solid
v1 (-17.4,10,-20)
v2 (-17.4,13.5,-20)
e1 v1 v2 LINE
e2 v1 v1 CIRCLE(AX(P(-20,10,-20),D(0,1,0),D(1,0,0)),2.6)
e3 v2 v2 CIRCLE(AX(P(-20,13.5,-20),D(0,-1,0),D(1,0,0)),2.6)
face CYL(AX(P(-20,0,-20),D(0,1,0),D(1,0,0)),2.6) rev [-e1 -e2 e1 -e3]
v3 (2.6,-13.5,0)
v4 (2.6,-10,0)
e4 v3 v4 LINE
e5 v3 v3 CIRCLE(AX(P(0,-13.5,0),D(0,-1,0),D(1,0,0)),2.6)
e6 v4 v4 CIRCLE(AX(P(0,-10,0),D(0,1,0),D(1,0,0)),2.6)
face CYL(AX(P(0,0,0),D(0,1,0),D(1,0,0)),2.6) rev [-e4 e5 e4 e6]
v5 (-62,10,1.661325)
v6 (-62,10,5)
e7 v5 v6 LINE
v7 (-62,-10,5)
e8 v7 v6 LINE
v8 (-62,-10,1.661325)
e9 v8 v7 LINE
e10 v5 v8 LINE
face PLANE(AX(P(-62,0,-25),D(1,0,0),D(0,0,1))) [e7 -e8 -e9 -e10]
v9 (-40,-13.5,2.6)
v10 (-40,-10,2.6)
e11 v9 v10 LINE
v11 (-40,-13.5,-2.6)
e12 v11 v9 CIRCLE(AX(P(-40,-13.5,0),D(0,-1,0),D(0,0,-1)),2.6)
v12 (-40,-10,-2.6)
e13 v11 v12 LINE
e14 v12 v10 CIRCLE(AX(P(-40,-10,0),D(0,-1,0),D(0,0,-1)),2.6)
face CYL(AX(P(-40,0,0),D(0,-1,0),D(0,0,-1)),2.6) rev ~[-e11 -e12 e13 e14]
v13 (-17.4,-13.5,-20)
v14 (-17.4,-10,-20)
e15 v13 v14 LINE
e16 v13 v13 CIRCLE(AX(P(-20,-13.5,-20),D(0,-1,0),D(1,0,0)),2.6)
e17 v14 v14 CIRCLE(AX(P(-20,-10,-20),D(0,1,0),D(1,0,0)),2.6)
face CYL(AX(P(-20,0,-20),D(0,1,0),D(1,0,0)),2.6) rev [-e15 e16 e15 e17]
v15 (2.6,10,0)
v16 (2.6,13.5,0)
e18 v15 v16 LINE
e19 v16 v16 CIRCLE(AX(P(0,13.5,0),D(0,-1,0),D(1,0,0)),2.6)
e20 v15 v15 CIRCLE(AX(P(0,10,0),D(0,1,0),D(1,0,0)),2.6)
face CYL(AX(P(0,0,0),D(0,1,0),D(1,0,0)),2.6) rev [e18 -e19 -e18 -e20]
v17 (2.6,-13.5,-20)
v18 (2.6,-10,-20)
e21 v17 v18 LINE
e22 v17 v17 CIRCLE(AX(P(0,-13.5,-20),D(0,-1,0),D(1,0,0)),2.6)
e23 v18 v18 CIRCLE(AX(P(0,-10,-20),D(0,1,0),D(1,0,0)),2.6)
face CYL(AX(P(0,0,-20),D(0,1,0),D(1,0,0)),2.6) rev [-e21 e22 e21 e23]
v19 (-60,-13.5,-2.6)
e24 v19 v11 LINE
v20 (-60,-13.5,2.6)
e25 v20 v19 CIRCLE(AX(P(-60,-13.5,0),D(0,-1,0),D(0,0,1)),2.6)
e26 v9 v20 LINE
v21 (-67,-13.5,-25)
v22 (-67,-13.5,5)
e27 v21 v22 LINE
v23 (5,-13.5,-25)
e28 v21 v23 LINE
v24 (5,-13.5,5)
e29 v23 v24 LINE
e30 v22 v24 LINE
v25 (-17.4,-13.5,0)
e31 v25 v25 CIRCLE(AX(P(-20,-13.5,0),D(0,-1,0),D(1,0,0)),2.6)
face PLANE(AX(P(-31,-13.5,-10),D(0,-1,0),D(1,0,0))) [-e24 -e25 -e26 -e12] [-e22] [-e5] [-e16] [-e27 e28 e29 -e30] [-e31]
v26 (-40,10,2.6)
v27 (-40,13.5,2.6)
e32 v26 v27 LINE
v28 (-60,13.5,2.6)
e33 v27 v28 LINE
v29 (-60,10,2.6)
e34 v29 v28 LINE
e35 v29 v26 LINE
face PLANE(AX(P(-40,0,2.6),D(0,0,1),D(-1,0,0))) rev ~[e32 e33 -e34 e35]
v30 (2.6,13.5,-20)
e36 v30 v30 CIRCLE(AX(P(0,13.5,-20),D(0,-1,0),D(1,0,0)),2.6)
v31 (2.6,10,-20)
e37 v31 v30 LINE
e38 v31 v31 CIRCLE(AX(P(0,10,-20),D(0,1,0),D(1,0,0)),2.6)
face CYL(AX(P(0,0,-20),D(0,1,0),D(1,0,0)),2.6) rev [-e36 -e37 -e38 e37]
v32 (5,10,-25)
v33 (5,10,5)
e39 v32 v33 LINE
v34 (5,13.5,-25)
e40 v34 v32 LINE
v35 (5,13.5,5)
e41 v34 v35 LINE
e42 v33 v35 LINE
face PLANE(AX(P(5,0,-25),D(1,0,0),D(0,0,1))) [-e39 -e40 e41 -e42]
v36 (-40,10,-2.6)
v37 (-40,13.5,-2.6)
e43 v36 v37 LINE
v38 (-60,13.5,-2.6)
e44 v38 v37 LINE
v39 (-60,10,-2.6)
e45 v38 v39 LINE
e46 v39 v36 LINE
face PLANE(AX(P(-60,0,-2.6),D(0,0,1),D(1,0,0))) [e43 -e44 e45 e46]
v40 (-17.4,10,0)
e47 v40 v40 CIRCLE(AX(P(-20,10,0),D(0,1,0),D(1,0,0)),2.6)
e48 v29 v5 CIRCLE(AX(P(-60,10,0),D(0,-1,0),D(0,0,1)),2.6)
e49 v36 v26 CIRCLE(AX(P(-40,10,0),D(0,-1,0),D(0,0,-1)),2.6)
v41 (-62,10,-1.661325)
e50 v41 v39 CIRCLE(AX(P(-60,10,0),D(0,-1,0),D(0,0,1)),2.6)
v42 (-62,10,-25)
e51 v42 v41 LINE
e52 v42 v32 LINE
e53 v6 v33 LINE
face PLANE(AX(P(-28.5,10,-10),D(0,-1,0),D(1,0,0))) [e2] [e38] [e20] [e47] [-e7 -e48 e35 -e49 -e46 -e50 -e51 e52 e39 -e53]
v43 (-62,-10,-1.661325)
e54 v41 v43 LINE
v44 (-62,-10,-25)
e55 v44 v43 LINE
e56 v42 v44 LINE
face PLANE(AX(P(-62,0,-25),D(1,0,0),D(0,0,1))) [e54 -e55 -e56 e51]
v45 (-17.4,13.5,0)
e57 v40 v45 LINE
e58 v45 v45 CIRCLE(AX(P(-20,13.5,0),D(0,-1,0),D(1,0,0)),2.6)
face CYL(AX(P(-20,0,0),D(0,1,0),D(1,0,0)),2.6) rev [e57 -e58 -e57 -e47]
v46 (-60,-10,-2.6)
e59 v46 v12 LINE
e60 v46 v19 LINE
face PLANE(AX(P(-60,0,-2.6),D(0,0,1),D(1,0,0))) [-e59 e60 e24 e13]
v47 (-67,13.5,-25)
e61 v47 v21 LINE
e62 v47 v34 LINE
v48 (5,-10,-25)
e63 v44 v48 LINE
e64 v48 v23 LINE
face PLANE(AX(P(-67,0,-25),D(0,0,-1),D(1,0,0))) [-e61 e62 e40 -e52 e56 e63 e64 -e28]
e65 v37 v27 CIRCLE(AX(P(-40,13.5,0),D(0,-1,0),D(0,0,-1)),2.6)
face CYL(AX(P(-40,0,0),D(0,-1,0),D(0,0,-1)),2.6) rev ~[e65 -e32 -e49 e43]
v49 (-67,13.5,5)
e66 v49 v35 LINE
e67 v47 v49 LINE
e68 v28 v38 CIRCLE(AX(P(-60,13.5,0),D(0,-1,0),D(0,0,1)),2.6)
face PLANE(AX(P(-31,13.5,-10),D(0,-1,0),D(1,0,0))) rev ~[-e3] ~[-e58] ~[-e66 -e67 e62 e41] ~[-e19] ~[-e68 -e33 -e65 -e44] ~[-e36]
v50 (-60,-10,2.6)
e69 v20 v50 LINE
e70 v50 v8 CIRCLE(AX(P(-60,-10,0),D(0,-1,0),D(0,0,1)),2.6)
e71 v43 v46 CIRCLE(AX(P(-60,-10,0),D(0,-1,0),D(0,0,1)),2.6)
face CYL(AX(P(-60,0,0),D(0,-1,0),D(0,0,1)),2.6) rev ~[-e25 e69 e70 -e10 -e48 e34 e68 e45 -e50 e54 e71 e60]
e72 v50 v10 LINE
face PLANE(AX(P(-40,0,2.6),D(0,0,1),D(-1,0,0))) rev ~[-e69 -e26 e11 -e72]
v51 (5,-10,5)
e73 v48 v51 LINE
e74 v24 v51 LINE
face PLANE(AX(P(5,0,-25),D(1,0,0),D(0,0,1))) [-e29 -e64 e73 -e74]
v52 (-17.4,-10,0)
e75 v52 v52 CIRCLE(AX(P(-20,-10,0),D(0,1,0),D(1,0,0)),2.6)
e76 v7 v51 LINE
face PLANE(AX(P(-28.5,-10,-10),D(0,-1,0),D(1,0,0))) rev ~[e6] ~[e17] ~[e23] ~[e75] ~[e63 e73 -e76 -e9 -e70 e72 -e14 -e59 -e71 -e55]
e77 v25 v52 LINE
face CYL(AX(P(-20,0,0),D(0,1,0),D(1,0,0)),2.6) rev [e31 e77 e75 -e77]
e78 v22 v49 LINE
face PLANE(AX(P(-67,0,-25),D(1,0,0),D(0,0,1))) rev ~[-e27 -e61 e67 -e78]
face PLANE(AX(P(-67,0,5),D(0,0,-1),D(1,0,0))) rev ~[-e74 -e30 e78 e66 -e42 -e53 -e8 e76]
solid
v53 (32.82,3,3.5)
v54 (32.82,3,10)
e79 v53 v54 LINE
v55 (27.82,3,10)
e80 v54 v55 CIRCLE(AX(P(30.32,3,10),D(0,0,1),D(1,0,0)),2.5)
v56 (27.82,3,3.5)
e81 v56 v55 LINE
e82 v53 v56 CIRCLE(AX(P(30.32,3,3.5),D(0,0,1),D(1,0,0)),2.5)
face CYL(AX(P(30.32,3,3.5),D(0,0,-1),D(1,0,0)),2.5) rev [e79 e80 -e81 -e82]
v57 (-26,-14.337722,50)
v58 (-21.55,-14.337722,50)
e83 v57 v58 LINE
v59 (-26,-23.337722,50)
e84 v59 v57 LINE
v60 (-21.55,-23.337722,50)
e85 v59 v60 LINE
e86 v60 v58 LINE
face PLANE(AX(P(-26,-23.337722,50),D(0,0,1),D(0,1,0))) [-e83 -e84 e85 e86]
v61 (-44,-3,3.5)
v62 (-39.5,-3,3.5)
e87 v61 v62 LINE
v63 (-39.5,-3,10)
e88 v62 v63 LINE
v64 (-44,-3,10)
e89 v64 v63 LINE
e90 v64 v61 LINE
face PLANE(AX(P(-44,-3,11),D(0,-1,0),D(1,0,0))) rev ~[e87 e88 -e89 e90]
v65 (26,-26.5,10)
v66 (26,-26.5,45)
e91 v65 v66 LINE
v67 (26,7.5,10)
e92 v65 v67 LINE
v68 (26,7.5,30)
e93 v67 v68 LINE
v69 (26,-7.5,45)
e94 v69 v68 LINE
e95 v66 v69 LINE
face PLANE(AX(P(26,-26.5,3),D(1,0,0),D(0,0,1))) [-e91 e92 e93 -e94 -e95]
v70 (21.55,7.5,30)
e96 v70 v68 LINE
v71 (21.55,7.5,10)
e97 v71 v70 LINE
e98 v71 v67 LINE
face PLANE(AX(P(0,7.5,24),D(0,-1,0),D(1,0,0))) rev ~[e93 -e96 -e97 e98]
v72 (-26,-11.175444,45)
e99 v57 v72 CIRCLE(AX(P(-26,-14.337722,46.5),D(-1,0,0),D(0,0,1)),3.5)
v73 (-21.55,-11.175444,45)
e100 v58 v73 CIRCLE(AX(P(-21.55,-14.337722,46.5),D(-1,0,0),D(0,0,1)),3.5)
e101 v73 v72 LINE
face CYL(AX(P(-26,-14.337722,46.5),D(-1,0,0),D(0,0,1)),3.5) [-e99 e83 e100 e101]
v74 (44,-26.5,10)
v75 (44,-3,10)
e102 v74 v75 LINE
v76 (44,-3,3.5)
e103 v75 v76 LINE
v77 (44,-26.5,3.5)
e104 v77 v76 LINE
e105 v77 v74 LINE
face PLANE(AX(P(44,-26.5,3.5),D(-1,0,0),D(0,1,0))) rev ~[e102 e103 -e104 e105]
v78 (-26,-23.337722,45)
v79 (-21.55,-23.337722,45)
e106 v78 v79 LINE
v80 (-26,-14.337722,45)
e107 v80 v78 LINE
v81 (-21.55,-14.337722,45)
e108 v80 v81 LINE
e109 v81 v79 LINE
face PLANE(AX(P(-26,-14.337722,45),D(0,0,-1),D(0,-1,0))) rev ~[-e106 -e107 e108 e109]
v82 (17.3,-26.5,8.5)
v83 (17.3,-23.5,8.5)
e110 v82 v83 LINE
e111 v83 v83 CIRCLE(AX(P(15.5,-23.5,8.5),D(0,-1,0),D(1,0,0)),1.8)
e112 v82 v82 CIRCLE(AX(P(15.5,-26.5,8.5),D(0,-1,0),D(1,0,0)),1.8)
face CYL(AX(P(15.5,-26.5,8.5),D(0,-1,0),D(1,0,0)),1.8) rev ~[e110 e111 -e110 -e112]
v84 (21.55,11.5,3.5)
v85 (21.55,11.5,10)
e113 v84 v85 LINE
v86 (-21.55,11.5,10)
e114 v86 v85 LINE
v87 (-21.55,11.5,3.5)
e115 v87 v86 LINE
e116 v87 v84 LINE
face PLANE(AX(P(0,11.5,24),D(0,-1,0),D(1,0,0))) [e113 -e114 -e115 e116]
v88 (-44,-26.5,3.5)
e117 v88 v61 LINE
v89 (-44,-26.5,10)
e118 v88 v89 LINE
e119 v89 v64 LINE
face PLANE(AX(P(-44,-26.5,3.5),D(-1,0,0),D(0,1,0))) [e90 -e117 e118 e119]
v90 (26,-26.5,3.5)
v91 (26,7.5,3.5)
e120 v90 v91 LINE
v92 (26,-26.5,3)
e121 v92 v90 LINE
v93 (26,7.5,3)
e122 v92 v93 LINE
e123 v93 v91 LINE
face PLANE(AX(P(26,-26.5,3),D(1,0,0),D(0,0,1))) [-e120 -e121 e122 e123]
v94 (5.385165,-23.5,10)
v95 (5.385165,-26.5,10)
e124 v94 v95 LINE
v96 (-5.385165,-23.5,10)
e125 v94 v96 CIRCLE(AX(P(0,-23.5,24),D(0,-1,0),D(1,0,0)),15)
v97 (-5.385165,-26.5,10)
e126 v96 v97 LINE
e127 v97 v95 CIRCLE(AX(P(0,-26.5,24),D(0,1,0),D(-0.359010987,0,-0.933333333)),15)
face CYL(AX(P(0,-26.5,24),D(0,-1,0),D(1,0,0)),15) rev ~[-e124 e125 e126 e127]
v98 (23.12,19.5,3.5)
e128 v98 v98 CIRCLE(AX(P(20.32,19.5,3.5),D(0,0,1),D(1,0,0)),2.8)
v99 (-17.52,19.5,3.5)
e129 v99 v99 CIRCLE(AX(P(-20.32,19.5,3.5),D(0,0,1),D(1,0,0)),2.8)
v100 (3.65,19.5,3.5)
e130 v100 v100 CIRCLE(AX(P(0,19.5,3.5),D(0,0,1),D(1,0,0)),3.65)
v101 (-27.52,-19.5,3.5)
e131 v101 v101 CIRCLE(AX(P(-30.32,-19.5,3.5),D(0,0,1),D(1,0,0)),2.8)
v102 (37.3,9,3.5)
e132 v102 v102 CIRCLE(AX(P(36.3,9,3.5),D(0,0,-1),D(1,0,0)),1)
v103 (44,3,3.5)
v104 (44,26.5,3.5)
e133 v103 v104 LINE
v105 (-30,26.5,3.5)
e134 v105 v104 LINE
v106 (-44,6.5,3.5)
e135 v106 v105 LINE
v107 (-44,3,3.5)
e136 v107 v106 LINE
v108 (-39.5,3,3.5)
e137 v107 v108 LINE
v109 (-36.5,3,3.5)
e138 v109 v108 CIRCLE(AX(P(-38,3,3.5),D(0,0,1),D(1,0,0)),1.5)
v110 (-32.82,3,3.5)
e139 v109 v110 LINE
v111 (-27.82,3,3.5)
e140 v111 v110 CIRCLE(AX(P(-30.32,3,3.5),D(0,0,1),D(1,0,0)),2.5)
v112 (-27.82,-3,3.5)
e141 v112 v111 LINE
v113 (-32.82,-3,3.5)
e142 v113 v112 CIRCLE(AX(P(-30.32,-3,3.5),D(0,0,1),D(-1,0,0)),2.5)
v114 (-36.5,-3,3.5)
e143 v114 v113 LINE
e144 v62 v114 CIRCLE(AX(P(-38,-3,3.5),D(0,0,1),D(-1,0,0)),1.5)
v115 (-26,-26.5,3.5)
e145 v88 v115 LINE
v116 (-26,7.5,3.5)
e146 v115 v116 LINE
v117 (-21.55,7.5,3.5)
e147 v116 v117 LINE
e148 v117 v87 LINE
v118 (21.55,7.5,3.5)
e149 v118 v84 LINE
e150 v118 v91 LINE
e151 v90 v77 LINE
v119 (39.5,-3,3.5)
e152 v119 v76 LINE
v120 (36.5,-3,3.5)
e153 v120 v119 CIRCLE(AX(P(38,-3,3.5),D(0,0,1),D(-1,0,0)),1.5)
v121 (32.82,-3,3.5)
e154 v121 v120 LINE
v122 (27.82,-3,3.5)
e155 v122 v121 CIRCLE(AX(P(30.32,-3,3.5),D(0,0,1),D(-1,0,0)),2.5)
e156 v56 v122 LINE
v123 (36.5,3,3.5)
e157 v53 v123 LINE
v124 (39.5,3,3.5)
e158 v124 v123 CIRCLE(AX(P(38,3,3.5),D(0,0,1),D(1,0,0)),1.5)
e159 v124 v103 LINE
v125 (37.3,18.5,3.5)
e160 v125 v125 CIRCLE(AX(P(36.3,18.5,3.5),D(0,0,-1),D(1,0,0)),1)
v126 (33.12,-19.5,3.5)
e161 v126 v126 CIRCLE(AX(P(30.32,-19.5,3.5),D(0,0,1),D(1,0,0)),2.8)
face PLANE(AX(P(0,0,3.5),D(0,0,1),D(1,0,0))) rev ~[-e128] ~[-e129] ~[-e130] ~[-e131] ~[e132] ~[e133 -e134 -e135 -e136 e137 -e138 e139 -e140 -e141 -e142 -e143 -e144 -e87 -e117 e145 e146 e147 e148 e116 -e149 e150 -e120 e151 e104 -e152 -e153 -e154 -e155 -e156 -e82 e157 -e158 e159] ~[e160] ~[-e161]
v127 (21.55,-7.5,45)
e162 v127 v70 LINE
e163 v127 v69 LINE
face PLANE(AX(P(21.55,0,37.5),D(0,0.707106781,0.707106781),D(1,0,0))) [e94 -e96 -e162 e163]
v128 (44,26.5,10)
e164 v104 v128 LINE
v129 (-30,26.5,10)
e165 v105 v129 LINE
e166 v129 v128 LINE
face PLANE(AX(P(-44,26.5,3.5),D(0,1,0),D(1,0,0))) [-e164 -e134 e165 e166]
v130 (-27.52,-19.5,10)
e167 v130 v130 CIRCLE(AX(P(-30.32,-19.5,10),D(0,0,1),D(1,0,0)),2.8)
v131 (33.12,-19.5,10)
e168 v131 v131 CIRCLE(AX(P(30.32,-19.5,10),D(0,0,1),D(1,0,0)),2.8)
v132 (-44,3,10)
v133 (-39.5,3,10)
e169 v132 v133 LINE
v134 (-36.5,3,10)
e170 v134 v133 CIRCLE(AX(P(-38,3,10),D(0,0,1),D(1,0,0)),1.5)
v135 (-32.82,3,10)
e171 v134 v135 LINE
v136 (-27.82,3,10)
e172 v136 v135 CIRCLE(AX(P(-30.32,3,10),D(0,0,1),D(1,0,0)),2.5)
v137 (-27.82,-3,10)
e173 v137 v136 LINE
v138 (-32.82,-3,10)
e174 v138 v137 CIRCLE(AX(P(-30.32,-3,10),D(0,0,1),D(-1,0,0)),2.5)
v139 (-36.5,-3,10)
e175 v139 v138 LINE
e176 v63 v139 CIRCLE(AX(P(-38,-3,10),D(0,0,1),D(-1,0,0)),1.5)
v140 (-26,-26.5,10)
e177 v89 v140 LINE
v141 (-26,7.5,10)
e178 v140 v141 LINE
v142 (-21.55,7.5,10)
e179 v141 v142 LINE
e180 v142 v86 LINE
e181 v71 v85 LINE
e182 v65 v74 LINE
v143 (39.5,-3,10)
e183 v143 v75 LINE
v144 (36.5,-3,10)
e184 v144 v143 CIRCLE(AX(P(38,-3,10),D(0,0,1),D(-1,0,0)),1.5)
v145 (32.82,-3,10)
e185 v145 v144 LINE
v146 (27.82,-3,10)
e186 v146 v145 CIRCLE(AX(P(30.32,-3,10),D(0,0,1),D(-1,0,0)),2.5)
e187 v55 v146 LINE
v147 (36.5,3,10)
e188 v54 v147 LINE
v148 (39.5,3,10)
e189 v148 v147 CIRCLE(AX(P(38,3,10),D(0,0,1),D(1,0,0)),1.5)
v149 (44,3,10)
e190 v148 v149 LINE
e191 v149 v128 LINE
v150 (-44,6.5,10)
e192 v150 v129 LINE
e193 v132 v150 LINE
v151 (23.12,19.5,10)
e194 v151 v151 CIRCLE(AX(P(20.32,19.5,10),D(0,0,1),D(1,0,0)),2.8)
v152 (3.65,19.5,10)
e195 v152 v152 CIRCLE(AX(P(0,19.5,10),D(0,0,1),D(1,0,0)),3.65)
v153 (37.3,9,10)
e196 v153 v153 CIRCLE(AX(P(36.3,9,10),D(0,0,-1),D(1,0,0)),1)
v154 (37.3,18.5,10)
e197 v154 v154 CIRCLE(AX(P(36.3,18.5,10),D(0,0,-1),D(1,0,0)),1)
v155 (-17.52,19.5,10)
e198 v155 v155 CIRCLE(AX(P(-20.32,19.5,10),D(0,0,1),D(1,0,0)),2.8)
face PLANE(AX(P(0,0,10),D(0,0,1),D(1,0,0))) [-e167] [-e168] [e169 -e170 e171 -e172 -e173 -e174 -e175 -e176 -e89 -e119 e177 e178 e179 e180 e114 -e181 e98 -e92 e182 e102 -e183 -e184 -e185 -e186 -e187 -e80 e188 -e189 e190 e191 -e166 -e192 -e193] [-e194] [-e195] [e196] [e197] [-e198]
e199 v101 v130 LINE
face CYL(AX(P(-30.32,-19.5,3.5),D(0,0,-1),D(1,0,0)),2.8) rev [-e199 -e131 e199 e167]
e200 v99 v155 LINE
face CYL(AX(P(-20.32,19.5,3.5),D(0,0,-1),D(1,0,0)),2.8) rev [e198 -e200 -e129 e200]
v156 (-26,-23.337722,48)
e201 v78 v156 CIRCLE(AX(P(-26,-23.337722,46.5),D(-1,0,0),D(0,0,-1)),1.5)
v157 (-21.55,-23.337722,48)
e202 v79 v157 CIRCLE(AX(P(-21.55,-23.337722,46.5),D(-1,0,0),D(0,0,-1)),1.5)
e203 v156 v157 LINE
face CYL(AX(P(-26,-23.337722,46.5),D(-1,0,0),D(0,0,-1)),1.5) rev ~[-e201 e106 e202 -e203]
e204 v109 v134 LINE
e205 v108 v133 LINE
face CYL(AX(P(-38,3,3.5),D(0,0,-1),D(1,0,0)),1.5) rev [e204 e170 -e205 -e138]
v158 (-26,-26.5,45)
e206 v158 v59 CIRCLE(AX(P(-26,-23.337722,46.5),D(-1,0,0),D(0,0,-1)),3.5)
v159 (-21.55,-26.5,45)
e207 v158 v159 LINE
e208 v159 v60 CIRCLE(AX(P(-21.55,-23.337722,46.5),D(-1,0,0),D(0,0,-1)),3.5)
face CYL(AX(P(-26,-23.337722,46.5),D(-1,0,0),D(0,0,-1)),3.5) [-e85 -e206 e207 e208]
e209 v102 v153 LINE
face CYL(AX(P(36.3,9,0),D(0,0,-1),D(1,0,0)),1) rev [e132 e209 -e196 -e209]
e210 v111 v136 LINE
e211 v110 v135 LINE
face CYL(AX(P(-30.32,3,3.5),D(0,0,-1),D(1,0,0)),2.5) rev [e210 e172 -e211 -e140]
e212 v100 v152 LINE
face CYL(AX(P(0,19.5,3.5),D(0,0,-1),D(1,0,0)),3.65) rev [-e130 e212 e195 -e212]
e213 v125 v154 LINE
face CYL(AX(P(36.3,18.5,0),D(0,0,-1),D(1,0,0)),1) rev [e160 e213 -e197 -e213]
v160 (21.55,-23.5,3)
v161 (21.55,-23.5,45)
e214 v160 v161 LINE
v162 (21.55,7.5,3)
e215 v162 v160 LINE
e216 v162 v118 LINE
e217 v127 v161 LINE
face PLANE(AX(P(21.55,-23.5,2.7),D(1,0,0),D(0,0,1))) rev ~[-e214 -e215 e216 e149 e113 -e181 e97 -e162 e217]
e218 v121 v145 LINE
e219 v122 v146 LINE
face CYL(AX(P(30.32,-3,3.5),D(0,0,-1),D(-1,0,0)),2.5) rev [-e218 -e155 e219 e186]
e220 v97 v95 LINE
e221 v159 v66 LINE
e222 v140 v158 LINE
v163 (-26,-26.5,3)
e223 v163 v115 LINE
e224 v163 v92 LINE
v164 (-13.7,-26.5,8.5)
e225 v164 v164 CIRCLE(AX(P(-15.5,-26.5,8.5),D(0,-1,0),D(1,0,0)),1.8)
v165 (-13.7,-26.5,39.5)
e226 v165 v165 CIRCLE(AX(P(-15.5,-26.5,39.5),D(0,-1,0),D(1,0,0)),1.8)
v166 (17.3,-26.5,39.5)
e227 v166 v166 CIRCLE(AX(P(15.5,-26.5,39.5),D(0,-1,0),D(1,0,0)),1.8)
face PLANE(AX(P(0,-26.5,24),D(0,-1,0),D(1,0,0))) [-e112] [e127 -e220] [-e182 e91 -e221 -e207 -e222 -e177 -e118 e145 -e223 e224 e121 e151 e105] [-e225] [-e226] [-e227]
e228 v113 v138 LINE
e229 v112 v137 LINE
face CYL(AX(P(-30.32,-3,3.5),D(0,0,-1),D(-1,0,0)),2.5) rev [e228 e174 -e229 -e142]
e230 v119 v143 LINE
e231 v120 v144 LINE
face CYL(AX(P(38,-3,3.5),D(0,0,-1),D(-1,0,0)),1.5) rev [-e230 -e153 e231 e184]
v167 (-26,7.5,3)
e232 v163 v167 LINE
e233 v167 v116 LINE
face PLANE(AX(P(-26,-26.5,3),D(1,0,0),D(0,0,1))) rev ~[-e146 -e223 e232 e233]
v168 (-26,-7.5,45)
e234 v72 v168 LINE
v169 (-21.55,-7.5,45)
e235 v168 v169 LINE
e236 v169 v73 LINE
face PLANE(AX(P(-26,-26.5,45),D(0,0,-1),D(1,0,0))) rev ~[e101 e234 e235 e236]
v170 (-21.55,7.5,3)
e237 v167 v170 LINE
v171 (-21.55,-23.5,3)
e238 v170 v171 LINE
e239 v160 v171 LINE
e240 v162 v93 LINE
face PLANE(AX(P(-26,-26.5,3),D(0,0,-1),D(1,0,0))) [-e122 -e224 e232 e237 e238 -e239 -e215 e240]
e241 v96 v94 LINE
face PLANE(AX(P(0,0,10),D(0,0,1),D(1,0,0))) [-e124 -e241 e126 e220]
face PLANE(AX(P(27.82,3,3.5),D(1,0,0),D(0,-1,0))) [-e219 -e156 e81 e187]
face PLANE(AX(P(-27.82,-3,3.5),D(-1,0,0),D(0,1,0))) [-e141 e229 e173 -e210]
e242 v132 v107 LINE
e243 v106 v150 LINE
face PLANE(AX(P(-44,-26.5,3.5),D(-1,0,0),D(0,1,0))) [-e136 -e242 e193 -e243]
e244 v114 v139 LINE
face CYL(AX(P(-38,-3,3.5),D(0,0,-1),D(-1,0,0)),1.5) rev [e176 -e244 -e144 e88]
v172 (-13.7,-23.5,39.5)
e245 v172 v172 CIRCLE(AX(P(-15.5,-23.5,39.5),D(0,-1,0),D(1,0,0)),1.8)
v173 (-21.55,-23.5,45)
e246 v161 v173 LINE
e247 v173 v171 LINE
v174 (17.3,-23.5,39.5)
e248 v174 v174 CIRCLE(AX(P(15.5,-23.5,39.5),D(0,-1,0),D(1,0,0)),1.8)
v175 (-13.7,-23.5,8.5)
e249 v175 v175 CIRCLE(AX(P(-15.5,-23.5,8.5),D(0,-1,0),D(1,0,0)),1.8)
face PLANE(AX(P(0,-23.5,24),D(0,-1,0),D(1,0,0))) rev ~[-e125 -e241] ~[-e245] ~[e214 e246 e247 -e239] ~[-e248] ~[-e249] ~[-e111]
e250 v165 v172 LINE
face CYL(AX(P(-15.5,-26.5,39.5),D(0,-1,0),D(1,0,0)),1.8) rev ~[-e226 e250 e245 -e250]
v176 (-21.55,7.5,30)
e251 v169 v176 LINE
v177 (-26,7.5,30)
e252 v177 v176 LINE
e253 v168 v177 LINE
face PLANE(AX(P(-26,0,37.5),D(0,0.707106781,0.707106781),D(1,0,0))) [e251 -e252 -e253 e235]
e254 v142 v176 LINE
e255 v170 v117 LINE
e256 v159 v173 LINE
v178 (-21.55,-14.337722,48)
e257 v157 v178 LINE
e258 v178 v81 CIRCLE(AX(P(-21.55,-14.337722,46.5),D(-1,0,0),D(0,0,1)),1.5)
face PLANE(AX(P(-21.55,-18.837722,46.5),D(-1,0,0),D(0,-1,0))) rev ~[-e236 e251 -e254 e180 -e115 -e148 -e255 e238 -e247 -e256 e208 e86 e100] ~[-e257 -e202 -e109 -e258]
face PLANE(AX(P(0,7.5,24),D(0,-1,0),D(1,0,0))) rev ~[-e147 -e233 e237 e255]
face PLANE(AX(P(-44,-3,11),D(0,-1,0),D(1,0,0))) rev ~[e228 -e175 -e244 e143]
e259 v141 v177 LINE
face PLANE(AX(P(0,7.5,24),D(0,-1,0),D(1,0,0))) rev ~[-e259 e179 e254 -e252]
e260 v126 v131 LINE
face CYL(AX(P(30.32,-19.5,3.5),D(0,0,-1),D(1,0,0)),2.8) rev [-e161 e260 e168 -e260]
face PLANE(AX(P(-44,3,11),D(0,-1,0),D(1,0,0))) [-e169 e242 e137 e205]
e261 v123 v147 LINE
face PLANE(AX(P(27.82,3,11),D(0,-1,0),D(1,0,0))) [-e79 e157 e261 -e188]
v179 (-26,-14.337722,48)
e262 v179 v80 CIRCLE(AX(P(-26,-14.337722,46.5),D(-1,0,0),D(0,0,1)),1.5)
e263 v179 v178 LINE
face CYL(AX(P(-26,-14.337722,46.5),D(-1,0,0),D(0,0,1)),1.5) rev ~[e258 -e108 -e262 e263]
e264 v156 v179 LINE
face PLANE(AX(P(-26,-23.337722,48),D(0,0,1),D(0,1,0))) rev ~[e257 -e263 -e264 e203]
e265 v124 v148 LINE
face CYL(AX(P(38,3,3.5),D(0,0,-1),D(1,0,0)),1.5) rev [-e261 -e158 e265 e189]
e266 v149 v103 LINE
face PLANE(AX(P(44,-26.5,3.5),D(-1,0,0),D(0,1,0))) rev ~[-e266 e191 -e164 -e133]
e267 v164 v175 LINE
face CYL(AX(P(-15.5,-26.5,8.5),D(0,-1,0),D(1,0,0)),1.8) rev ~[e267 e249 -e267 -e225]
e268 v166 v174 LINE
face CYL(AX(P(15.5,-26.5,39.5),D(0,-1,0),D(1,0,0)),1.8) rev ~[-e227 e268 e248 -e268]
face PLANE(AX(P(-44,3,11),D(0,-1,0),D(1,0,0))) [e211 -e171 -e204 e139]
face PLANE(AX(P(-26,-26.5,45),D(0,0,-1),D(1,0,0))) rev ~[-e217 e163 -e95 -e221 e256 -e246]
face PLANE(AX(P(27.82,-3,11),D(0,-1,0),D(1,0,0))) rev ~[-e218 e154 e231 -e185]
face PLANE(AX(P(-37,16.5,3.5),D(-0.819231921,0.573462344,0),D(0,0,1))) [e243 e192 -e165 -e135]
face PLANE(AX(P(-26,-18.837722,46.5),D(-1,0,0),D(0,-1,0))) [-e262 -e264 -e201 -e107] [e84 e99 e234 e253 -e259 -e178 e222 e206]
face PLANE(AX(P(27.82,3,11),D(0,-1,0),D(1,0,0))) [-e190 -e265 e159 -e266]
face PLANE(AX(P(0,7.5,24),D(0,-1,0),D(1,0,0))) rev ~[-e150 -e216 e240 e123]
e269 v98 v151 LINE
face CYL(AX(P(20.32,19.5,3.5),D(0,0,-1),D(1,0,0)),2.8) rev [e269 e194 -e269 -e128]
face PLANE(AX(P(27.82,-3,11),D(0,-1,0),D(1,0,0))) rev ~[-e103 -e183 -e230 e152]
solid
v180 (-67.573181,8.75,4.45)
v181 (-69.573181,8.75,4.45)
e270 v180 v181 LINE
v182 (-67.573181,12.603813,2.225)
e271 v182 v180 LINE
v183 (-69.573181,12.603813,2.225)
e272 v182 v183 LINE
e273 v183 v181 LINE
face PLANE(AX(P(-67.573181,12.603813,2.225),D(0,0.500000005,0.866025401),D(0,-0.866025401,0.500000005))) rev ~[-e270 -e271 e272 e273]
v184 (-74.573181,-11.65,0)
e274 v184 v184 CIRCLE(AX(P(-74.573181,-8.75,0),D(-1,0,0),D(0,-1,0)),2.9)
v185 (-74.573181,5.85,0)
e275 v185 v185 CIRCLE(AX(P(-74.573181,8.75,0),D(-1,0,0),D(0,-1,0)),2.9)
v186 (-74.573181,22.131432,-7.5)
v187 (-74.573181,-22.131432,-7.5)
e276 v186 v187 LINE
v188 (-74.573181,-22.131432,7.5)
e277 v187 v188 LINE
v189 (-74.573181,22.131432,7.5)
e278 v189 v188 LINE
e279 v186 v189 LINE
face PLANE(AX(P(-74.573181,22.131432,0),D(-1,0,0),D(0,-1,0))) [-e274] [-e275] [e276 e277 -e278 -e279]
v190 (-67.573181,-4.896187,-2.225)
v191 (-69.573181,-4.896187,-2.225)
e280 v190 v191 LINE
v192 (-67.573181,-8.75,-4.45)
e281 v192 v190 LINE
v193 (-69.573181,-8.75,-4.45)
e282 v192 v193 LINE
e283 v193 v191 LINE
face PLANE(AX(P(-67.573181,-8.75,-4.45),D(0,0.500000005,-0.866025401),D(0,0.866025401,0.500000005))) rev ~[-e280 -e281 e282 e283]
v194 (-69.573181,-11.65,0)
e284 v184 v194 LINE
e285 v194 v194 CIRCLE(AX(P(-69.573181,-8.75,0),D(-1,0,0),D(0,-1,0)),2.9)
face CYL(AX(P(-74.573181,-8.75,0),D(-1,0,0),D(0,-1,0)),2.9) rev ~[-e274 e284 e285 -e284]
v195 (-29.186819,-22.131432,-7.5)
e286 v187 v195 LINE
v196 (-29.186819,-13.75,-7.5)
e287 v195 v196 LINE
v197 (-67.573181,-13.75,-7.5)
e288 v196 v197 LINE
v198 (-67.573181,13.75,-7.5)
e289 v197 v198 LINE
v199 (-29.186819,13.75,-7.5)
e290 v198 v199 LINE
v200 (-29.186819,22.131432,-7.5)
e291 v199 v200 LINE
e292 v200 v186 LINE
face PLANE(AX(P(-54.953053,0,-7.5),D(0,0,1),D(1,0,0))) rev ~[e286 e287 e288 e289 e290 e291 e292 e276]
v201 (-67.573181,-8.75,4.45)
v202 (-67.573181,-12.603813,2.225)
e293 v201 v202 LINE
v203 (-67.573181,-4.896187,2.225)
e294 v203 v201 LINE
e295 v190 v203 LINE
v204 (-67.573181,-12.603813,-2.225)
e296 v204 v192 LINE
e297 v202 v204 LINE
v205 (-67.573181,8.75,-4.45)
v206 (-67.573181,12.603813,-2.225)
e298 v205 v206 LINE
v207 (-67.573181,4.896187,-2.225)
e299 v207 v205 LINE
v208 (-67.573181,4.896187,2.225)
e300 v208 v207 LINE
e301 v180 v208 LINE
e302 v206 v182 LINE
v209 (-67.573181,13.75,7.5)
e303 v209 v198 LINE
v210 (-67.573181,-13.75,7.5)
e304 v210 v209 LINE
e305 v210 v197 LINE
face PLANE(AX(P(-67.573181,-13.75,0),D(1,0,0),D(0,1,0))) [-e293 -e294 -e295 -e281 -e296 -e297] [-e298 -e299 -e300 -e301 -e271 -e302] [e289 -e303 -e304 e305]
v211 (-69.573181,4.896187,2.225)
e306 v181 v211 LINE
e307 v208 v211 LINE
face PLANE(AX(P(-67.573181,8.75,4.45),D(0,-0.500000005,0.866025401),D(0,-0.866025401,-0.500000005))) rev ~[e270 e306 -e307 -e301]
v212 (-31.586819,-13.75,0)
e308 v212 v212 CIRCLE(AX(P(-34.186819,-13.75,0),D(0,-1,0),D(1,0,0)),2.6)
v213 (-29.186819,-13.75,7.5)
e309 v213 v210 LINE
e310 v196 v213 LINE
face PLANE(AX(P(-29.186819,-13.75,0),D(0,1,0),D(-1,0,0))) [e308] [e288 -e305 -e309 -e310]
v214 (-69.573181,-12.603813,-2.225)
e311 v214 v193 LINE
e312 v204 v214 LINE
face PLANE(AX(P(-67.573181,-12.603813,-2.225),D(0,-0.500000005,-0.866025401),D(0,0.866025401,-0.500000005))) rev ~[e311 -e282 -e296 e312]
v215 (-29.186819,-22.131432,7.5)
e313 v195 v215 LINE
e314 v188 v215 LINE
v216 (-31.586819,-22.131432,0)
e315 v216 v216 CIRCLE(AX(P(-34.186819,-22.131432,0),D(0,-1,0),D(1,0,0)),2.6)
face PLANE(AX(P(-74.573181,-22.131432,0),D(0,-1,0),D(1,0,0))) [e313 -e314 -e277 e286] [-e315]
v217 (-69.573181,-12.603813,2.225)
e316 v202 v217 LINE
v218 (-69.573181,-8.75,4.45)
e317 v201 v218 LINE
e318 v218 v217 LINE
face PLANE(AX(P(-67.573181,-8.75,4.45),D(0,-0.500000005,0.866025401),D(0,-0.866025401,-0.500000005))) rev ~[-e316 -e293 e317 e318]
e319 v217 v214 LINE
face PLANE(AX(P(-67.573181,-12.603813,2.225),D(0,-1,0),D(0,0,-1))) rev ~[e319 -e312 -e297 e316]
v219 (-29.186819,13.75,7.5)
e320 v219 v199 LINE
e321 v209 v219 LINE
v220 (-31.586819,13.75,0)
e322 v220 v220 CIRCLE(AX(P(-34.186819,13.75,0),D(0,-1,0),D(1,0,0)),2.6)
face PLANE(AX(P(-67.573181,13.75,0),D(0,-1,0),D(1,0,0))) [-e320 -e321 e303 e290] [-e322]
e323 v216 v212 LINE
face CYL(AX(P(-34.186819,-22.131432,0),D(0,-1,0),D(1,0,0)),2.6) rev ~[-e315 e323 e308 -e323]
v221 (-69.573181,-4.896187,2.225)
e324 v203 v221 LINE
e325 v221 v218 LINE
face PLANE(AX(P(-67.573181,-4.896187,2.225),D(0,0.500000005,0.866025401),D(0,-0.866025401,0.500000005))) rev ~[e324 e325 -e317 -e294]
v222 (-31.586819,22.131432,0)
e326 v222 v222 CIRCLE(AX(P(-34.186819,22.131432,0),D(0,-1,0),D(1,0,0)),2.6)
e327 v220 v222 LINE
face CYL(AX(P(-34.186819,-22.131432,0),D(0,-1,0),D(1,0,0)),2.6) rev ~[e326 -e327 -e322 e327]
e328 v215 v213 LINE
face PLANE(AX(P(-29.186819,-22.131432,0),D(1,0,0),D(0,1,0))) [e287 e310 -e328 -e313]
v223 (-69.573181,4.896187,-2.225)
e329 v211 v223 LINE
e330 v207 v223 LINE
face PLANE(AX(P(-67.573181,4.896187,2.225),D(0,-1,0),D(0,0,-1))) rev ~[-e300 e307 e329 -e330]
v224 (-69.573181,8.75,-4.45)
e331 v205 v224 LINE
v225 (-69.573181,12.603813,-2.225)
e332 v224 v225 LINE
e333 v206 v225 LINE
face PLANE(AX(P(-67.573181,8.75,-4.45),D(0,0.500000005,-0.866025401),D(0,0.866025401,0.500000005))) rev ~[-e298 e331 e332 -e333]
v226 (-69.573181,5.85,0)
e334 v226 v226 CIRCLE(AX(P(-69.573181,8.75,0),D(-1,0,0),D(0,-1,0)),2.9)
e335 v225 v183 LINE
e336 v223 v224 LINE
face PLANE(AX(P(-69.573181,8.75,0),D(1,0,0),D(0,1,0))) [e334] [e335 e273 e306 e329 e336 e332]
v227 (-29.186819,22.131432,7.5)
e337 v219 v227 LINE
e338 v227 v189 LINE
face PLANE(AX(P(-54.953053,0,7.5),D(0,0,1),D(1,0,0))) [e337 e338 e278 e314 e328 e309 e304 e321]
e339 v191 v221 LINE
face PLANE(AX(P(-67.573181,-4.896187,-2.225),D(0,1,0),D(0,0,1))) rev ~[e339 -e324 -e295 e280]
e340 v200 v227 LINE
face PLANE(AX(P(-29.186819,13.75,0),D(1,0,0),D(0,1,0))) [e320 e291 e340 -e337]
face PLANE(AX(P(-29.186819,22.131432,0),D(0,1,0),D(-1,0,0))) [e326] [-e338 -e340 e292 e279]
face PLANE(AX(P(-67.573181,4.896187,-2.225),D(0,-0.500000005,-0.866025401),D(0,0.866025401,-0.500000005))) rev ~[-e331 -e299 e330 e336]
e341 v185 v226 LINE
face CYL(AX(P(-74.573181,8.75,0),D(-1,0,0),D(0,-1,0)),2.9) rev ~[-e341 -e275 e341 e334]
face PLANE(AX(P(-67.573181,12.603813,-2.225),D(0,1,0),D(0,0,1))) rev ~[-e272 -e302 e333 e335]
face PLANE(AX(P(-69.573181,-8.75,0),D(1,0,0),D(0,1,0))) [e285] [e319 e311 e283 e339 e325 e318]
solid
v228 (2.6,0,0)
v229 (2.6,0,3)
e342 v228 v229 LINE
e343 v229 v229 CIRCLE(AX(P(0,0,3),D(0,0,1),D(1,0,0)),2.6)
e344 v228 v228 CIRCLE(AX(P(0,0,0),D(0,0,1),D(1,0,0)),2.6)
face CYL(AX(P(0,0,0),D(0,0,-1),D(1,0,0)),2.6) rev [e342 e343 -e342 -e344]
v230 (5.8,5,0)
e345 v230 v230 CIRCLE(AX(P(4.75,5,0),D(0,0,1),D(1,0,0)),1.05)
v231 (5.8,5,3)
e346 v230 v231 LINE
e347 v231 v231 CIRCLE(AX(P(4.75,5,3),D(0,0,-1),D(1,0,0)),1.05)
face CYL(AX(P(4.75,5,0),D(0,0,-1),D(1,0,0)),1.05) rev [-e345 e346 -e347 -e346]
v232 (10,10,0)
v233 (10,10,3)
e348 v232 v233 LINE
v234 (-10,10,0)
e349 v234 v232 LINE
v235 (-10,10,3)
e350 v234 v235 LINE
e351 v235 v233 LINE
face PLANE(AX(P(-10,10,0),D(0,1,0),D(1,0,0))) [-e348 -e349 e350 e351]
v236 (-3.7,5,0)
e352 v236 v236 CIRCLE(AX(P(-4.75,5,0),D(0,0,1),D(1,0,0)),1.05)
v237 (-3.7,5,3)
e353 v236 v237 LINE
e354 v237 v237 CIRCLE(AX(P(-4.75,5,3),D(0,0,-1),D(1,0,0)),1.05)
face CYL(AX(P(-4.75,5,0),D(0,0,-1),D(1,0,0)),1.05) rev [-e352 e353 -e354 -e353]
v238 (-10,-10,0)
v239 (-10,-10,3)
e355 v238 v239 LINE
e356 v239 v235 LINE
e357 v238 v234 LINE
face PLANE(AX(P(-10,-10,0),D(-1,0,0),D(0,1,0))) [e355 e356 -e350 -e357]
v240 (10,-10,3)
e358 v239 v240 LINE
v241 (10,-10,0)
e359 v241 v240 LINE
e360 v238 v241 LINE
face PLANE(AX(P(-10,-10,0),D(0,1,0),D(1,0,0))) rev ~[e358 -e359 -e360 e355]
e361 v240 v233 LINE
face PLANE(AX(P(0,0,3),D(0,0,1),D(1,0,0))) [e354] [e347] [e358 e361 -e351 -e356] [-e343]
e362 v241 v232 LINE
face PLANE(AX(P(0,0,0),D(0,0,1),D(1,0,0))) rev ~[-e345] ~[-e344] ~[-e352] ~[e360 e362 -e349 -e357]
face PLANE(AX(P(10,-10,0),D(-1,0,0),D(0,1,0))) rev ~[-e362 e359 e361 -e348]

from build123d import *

# Parameters (mm, degrees)
SKETCH_W         = 88
SKETCH_H         = 53
SKETCH_R         = 2.8
SKETCH_R_2       = 3.65
PAD_DEPTH        = 6.5
SKETCH001_W      = 52
SKETCH001_H      = 42
SKETCH001_R      = 15
SKETCH001_R_2    = 1.75
PAD001_DEPTH     = 34
SKETCH002_W      = 43.1
SKETCH002_H      = 42.6
POCKET_DEPTH     = 35
CHAMFER001_SIZE  = 15
SKETCH003_R      = 1.8
HOLE_DEPTH       = 25
HOLE_TIPS_R      = 1.8
SKETCH004_W      = 16.18
SKETCH004_H      = 6
POCKET001_DEPTH  = 8.001
CHAMFER003_SIZE2 = 14
CHAMFER003_SIZE  = 20
SKETCH012_R      = 1
HOLE002_DEPTH    = 25
HOLE002_TIPS_R   = 1
PAD004_DEPTH     = 4.45
SKETCH005_W      = 72
SKETCH005_H      = 30
SKETCH005_R      = 2.6
PAD002_DEPTH     = 13.5
SKETCH006_W      = 67
SKETCH006_H      = 30
POCKET002_DEPTH  = 10
PAD003_DEPTH     = 7.5
SKETCH008_R      = 2.6
POCKET003_DEPTH  = 44.263864
SKETCH009_R      = 2.9
HOLE001_DEPTH    = 25
HOLE001_TIPS_R   = 2.9
POCKET004_DEPTH  = 2
SKETCH016_W      = 20
SKETCH016_H      = 20
SKETCH016_R      = 2.6
PAD006_DEPTH     = 3
SKETCH017_R      = 1.05
HOLE004_DEPTH    = 3.001


with BuildPart() as body:
    # Sketch → Pad (new body)
    with BuildSketch(Plane.XY.offset(3.5)):
        Rectangle(SKETCH_W, SKETCH_H)
        with Locations((20.32, 19.5)):
            Circle(SKETCH_R, mode=Mode.SUBTRACT)
        with Locations((-30.32, -19.5)):
            Circle(SKETCH_R, mode=Mode.SUBTRACT)
        with Locations((30.32, -19.5)):
            Circle(SKETCH_R, mode=Mode.SUBTRACT)
        with Locations((-20.32, 19.5)):
            Circle(SKETCH_R, mode=Mode.SUBTRACT)
        with Locations((0, 19.5)):
            Circle(SKETCH_R_2, mode=Mode.SUBTRACT)
        with BuildLine():
            ThreePointArc((-36.5, 3), (-38, 4.5), (-39.5, 3))
            Line((-39.5, 3), (-39.5, -3))
            ThreePointArc((-39.5, -3), (-38, -4.5), (-36.5, -3))
            Line((-36.5, -3), (-36.5, 3))
        make_face(mode=Mode.SUBTRACT)
        with BuildLine():
            ThreePointArc((39.5, 3), (38, 4.5), (36.5, 3))
            Line((36.5, 3), (36.5, -3))
            ThreePointArc((36.5, -3), (38, -4.5), (39.5, -3))
            Line((39.5, -3), (39.5, 3))
        make_face(mode=Mode.SUBTRACT)
        with BuildLine():
            ThreePointArc((-27.82, 3), (-30.32, 5.5), (-32.82, 3))
            Line((-32.82, 3), (-32.82, -3))
            ThreePointArc((-32.82, -3), (-30.32, -5.5), (-27.82, -3))
            Line((-27.82, -3), (-27.82, 3))
        make_face(mode=Mode.SUBTRACT)
        with BuildLine():
            ThreePointArc((32.82, 3), (30.32, 5.5), (27.82, 3))
            Line((27.82, 3), (27.82, -3))
            ThreePointArc((27.82, -3), (30.32, -5.5), (32.82, -3))
            Line((32.82, -3), (32.82, 3))
        make_face(mode=Mode.SUBTRACT)
    extrude(amount=PAD_DEPTH)

    # Sketch001 → Pad001 (join)
    with BuildSketch(Plane(origin=(0, -26.5, 24), x_dir=(1, 0, 0), z_dir=(0, -1, 0))):
        Rectangle(SKETCH001_W, SKETCH001_H)
        Circle(SKETCH001_R, mode=Mode.SUBTRACT)
        with Locations((-15.5, 15.5)):
            Circle(SKETCH001_R_2, mode=Mode.SUBTRACT)
        with Locations((-15.5, -15.5)):
            Circle(SKETCH001_R_2, mode=Mode.SUBTRACT)
        with Locations((15.5, -15.5)):
            Circle(SKETCH001_R_2, mode=Mode.SUBTRACT)
        with Locations((15.5, 15.5)):
            Circle(SKETCH001_R_2, mode=Mode.SUBTRACT)
    extrude(amount=-PAD001_DEPTH)

    # Sketch002 → Pocket (cut)
    with BuildSketch(Plane(origin=(0, -23.5, 24), x_dir=(1, 0, 0), z_dir=(0, -1, 0))):
        Rectangle(SKETCH002_W, SKETCH002_H)
    extrude(amount=-POCKET_DEPTH, mode=Mode.SUBTRACT)

    # Chamfer001
    chamfer001_edges = [body.edges().sort_by_distance(p)[0] for p in [
        (-23.775, 7.5, 45),
        (23.775, 7.5, 45),
    ]]
    chamfer(chamfer001_edges, length=CHAMFER001_SIZE)

    # Sketch003 → Hole (cut)
    with BuildSketch(Plane(origin=(0, -26.5, 24), x_dir=(1, 0, 0), z_dir=(0, -1, 0))):
        Circle(SKETCH003_R)
        with Locations((-15.5, 15.5)):
            Circle(SKETCH003_R)
        with Locations((-15.5, -15.5)):
            Circle(SKETCH003_R)
        with Locations((15.5, -15.5)):
            Circle(SKETCH003_R)
        with Locations((15.5, 15.5)):
            Circle(SKETCH003_R)
    extrude(amount=-HOLE_DEPTH, mode=Mode.SUBTRACT)

    # Hole tips → Hole tip 1 section 0
    with BuildSketch(Plane(origin=(0, -1.5, 24), x_dir=(1, 0, 0), z_dir=(0, -1, 0)), mode=Mode.PRIVATE) as hole_tip_1_s0:
        Circle(HOLE_TIPS_R)
    loft([hole_tip_1_s0.sketch, Vertex(0, -0.418451, 24)], mode=Mode.SUBTRACT)

    # Hole tips → Hole tip 2 section 0
    with BuildSketch(Plane(origin=(0, -1.5, 24), x_dir=(1, 0, 0), z_dir=(0, -1, 0)), mode=Mode.PRIVATE) as hole_tip_2_s0:
        with Locations((-15.5, 15.5)):
            Circle(HOLE_TIPS_R)
    loft([hole_tip_2_s0.sketch, Vertex(-15.5, -0.418451, 39.5)], mode=Mode.SUBTRACT)

    # Hole tips → Hole tip 3 section 0
    with BuildSketch(Plane(origin=(0, -1.5, 24), x_dir=(1, 0, 0), z_dir=(0, -1, 0)), mode=Mode.PRIVATE) as hole_tip_3_s0:
        with Locations((-15.5, -15.5)):
            Circle(HOLE_TIPS_R)
    loft([hole_tip_3_s0.sketch, Vertex(-15.5, -0.418451, 8.5)], mode=Mode.SUBTRACT)

    # Hole tips → Hole tip 4 section 0
    with BuildSketch(Plane(origin=(0, -1.5, 24), x_dir=(1, 0, 0), z_dir=(0, -1, 0)), mode=Mode.PRIVATE) as hole_tip_4_s0:
        with Locations((15.5, -15.5)):
            Circle(HOLE_TIPS_R)
    loft([hole_tip_4_s0.sketch, Vertex(15.5, -0.418451, 8.5)], mode=Mode.SUBTRACT)

    # Hole tips → Hole tip 5 section 0
    with BuildSketch(Plane(origin=(0, -1.5, 24), x_dir=(1, 0, 0), z_dir=(0, -1, 0)), mode=Mode.PRIVATE) as hole_tip_5_s0:
        with Locations((15.5, 15.5)):
            Circle(HOLE_TIPS_R)
    loft([hole_tip_5_s0.sketch, Vertex(15.5, -0.418451, 39.5)], mode=Mode.SUBTRACT)

    # Sketch004 → Pocket001 (cut, through all)
    with BuildSketch(Plane.XY.offset(11)):
        with Locations((-35.91, 0)):
            Rectangle(SKETCH004_W, SKETCH004_H)
        with Locations((35.91, 0)):
            Rectangle(SKETCH004_W, SKETCH004_H)
    extrude(amount=-POCKET001_DEPTH, mode=Mode.SUBTRACT)

    # Chamfer003
    chamfer003_edges = [body.edges().sort_by_distance(p)[0] for p in [
        (-44, 26.5, 6.75),
    ]]
    chamfer003_side = body.faces().sort_by_distance((-44, 14.75, 6.75))[0]
    chamfer(chamfer003_edges, length=CHAMFER003_SIZE, length2=CHAMFER003_SIZE2, reference=chamfer003_side)

    # Sketch012 → Hole002 (cut)
    with BuildSketch(Plane.XY):
        with Locations((36.3, 9)):
            Circle(SKETCH012_R)
        with Locations((36.3, 18.5)):
            Circle(SKETCH012_R)
    extrude(amount=HOLE002_DEPTH, mode=Mode.SUBTRACT)

    # Hole002 tips → Hole002 tip 1 section 0
    with BuildSketch(Plane.XY.offset(25), mode=Mode.PRIVATE) as hole002_tip_1_s0:
        with Locations((36.3, 9)):
            Circle(HOLE002_TIPS_R)
    loft([hole002_tip_1_s0.sketch, Vertex(36.3, 9, 25.600861)], mode=Mode.SUBTRACT)

    # Hole002 tips → Hole002 tip 2 section 0
    with BuildSketch(Plane.XY.offset(25), mode=Mode.PRIVATE) as hole002_tip_2_s0:
        with Locations((36.3, 18.5)):
            Circle(HOLE002_TIPS_R)
    loft([hole002_tip_2_s0.sketch, Vertex(36.3, 18.5, 25.600861)], mode=Mode.SUBTRACT)

    # Sketch013 (on Face26 of Hole002) → Pad004 (join)
    with BuildSketch(Plane(origin=(-26, 0, 0), x_dir=(0, -1, 0), z_dir=(-1, 0, 0))):
        with BuildLine():
            ThreePointArc((14.337722, 50), (10.837722, 46.5), (14.337722, 43))
            Line((14.337722, 43), (23.337722, 43))
            ThreePointArc((23.337722, 43), (26.837722, 46.5), (23.337722, 50))
            Line((23.337722, 50), (14.337722, 50))
        make_face()
        with BuildLine():
            ThreePointArc((14.337722, 48), (12.837722, 46.5), (14.337722, 45))
            Line((14.337722, 45), (23.337722, 45))
            ThreePointArc((23.337722, 45), (24.837722, 46.5), (23.337722, 48))
            Line((23.337722, 48), (14.337722, 48))
        make_face(mode=Mode.SUBTRACT)
    extrude(amount=-PAD004_DEPTH)


with BuildPart() as body001:
    # Sketch005 → Pad002 (new body, symmetric)
    with BuildSketch(Plane.XZ):
        with Locations((-31, -10)):
            Rectangle(SKETCH005_W, SKETCH005_H)
        Circle(SKETCH005_R, mode=Mode.SUBTRACT)
        with Locations((-20, 0)):
            Circle(SKETCH005_R, mode=Mode.SUBTRACT)
        with Locations((0, -20)):
            Circle(SKETCH005_R, mode=Mode.SUBTRACT)
        with Locations((-20, -20)):
            Circle(SKETCH005_R, mode=Mode.SUBTRACT)
        with BuildLine():
            ThreePointArc((-40, -2.6), (-37.4, 0), (-40, 2.6))
            Line((-40, 2.6), (-60, 2.6))
            ThreePointArc((-60, 2.6), (-62.6, 0), (-60, -2.6))
            Line((-60, -2.6), (-40, -2.6))
        make_face(mode=Mode.SUBTRACT)
    extrude(amount=PAD002_DEPTH, both=True)

    # Sketch006 → Pocket002 (cut, symmetric)
    with BuildSketch(Plane.XZ):
        with Locations((-28.5, -10)):
            Rectangle(SKETCH006_W, SKETCH006_H)
    extrude(amount=POCKET002_DEPTH, both=True, mode=Mode.SUBTRACT)


with BuildPart() as arm:
    # Sketch007 → Pad003 (new body, symmetric)
    with BuildSketch(Plane.XY):
        Polygon((-29.186819, 13.75), (-29.186819, 22.131432), (-74.573181, 22.131432), (-74.573181, -22.131432), (-29.186819, -22.131432), (-29.186819, -13.75), (-67.573181, -13.75), (-67.573181, 13.75), align=None)
    extrude(amount=PAD003_DEPTH, both=True)

    # Sketch008 (on Face4 of Pad003) → Pocket003 (cut, through all)
    with BuildSketch(Plane.XZ.offset(22.131432)):
        with Locations((-34.186819, 0)):
            Circle(SKETCH008_R)
    extrude(amount=-POCKET003_DEPTH, mode=Mode.SUBTRACT)

    # Sketch009 (on Face8 of Pocket003) → Hole001 (cut)
    with BuildSketch(Plane(origin=(-74.573181, 0, 0), x_dir=(0, -1, 0), z_dir=(-1, 0, 0))):
        with Locations((8.75, 0)):
            Circle(SKETCH009_R)
        with Locations((-8.75, 0)):
            Circle(SKETCH009_R)
    extrude(amount=-HOLE001_DEPTH, mode=Mode.SUBTRACT)

    # Hole001 tips → Hole001 tip 1 section 0
    with BuildSketch(Plane(origin=(-49.573181, 0, 0), x_dir=(0, -1, 0), z_dir=(-1, 0, 0)), mode=Mode.PRIVATE) as hole001_tip_1_s0:
        with Locations((8.75, 0)):
            Circle(HOLE001_TIPS_R)
    loft([hole001_tip_1_s0.sketch, Vertex(-47.830685, -8.75, 0)], mode=Mode.SUBTRACT)

    # Hole001 tips → Hole001 tip 2 section 0
    with BuildSketch(Plane(origin=(-49.573181, 0, 0), x_dir=(0, -1, 0), z_dir=(-1, 0, 0)), mode=Mode.PRIVATE) as hole001_tip_2_s0:
        with Locations((-8.75, 0)):
            Circle(HOLE001_TIPS_R)
    loft([hole001_tip_2_s0.sketch, Vertex(-47.830685, 8.75, 0)], mode=Mode.SUBTRACT)

    # Sketch010 (on Face6 of Hole001) → Pocket004 (cut)
    with BuildSketch(Plane.YZ.offset(-67.573181)):
        Polygon((-12.603813, 2.225), (-12.603813, -2.225), (-8.75, -4.45), (-4.896187, -2.225), (-4.896187, 2.225), (-8.75, 4.45), align=None)
        Polygon((8.75, 4.45), (4.896187, 2.225), (4.896187, -2.225), (8.75, -4.45), (12.603813, -2.225), (12.603813, 2.225), align=None)
    extrude(amount=-POCKET004_DEPTH, mode=Mode.SUBTRACT)


with BuildPart() as endstop:
    # Sketch016 → Pad006 (new body)
    with BuildSketch(Plane.XY):
        Rectangle(SKETCH016_W, SKETCH016_H)
        Circle(SKETCH016_R, mode=Mode.SUBTRACT)
    extrude(amount=PAD006_DEPTH)

    # Sketch017 → Hole004 (cut, through all)
    with BuildSketch(Plane.XY):
        with Locations((4.75, 5)):
            Circle(SKETCH017_R)
        with Locations((-4.75, 5)):
            Circle(SKETCH017_R)
    extrude(amount=HOLE004_DEPTH, mode=Mode.SUBTRACT)


solid = Compound([body.part, body001.part, arm.part, endstop.part])
